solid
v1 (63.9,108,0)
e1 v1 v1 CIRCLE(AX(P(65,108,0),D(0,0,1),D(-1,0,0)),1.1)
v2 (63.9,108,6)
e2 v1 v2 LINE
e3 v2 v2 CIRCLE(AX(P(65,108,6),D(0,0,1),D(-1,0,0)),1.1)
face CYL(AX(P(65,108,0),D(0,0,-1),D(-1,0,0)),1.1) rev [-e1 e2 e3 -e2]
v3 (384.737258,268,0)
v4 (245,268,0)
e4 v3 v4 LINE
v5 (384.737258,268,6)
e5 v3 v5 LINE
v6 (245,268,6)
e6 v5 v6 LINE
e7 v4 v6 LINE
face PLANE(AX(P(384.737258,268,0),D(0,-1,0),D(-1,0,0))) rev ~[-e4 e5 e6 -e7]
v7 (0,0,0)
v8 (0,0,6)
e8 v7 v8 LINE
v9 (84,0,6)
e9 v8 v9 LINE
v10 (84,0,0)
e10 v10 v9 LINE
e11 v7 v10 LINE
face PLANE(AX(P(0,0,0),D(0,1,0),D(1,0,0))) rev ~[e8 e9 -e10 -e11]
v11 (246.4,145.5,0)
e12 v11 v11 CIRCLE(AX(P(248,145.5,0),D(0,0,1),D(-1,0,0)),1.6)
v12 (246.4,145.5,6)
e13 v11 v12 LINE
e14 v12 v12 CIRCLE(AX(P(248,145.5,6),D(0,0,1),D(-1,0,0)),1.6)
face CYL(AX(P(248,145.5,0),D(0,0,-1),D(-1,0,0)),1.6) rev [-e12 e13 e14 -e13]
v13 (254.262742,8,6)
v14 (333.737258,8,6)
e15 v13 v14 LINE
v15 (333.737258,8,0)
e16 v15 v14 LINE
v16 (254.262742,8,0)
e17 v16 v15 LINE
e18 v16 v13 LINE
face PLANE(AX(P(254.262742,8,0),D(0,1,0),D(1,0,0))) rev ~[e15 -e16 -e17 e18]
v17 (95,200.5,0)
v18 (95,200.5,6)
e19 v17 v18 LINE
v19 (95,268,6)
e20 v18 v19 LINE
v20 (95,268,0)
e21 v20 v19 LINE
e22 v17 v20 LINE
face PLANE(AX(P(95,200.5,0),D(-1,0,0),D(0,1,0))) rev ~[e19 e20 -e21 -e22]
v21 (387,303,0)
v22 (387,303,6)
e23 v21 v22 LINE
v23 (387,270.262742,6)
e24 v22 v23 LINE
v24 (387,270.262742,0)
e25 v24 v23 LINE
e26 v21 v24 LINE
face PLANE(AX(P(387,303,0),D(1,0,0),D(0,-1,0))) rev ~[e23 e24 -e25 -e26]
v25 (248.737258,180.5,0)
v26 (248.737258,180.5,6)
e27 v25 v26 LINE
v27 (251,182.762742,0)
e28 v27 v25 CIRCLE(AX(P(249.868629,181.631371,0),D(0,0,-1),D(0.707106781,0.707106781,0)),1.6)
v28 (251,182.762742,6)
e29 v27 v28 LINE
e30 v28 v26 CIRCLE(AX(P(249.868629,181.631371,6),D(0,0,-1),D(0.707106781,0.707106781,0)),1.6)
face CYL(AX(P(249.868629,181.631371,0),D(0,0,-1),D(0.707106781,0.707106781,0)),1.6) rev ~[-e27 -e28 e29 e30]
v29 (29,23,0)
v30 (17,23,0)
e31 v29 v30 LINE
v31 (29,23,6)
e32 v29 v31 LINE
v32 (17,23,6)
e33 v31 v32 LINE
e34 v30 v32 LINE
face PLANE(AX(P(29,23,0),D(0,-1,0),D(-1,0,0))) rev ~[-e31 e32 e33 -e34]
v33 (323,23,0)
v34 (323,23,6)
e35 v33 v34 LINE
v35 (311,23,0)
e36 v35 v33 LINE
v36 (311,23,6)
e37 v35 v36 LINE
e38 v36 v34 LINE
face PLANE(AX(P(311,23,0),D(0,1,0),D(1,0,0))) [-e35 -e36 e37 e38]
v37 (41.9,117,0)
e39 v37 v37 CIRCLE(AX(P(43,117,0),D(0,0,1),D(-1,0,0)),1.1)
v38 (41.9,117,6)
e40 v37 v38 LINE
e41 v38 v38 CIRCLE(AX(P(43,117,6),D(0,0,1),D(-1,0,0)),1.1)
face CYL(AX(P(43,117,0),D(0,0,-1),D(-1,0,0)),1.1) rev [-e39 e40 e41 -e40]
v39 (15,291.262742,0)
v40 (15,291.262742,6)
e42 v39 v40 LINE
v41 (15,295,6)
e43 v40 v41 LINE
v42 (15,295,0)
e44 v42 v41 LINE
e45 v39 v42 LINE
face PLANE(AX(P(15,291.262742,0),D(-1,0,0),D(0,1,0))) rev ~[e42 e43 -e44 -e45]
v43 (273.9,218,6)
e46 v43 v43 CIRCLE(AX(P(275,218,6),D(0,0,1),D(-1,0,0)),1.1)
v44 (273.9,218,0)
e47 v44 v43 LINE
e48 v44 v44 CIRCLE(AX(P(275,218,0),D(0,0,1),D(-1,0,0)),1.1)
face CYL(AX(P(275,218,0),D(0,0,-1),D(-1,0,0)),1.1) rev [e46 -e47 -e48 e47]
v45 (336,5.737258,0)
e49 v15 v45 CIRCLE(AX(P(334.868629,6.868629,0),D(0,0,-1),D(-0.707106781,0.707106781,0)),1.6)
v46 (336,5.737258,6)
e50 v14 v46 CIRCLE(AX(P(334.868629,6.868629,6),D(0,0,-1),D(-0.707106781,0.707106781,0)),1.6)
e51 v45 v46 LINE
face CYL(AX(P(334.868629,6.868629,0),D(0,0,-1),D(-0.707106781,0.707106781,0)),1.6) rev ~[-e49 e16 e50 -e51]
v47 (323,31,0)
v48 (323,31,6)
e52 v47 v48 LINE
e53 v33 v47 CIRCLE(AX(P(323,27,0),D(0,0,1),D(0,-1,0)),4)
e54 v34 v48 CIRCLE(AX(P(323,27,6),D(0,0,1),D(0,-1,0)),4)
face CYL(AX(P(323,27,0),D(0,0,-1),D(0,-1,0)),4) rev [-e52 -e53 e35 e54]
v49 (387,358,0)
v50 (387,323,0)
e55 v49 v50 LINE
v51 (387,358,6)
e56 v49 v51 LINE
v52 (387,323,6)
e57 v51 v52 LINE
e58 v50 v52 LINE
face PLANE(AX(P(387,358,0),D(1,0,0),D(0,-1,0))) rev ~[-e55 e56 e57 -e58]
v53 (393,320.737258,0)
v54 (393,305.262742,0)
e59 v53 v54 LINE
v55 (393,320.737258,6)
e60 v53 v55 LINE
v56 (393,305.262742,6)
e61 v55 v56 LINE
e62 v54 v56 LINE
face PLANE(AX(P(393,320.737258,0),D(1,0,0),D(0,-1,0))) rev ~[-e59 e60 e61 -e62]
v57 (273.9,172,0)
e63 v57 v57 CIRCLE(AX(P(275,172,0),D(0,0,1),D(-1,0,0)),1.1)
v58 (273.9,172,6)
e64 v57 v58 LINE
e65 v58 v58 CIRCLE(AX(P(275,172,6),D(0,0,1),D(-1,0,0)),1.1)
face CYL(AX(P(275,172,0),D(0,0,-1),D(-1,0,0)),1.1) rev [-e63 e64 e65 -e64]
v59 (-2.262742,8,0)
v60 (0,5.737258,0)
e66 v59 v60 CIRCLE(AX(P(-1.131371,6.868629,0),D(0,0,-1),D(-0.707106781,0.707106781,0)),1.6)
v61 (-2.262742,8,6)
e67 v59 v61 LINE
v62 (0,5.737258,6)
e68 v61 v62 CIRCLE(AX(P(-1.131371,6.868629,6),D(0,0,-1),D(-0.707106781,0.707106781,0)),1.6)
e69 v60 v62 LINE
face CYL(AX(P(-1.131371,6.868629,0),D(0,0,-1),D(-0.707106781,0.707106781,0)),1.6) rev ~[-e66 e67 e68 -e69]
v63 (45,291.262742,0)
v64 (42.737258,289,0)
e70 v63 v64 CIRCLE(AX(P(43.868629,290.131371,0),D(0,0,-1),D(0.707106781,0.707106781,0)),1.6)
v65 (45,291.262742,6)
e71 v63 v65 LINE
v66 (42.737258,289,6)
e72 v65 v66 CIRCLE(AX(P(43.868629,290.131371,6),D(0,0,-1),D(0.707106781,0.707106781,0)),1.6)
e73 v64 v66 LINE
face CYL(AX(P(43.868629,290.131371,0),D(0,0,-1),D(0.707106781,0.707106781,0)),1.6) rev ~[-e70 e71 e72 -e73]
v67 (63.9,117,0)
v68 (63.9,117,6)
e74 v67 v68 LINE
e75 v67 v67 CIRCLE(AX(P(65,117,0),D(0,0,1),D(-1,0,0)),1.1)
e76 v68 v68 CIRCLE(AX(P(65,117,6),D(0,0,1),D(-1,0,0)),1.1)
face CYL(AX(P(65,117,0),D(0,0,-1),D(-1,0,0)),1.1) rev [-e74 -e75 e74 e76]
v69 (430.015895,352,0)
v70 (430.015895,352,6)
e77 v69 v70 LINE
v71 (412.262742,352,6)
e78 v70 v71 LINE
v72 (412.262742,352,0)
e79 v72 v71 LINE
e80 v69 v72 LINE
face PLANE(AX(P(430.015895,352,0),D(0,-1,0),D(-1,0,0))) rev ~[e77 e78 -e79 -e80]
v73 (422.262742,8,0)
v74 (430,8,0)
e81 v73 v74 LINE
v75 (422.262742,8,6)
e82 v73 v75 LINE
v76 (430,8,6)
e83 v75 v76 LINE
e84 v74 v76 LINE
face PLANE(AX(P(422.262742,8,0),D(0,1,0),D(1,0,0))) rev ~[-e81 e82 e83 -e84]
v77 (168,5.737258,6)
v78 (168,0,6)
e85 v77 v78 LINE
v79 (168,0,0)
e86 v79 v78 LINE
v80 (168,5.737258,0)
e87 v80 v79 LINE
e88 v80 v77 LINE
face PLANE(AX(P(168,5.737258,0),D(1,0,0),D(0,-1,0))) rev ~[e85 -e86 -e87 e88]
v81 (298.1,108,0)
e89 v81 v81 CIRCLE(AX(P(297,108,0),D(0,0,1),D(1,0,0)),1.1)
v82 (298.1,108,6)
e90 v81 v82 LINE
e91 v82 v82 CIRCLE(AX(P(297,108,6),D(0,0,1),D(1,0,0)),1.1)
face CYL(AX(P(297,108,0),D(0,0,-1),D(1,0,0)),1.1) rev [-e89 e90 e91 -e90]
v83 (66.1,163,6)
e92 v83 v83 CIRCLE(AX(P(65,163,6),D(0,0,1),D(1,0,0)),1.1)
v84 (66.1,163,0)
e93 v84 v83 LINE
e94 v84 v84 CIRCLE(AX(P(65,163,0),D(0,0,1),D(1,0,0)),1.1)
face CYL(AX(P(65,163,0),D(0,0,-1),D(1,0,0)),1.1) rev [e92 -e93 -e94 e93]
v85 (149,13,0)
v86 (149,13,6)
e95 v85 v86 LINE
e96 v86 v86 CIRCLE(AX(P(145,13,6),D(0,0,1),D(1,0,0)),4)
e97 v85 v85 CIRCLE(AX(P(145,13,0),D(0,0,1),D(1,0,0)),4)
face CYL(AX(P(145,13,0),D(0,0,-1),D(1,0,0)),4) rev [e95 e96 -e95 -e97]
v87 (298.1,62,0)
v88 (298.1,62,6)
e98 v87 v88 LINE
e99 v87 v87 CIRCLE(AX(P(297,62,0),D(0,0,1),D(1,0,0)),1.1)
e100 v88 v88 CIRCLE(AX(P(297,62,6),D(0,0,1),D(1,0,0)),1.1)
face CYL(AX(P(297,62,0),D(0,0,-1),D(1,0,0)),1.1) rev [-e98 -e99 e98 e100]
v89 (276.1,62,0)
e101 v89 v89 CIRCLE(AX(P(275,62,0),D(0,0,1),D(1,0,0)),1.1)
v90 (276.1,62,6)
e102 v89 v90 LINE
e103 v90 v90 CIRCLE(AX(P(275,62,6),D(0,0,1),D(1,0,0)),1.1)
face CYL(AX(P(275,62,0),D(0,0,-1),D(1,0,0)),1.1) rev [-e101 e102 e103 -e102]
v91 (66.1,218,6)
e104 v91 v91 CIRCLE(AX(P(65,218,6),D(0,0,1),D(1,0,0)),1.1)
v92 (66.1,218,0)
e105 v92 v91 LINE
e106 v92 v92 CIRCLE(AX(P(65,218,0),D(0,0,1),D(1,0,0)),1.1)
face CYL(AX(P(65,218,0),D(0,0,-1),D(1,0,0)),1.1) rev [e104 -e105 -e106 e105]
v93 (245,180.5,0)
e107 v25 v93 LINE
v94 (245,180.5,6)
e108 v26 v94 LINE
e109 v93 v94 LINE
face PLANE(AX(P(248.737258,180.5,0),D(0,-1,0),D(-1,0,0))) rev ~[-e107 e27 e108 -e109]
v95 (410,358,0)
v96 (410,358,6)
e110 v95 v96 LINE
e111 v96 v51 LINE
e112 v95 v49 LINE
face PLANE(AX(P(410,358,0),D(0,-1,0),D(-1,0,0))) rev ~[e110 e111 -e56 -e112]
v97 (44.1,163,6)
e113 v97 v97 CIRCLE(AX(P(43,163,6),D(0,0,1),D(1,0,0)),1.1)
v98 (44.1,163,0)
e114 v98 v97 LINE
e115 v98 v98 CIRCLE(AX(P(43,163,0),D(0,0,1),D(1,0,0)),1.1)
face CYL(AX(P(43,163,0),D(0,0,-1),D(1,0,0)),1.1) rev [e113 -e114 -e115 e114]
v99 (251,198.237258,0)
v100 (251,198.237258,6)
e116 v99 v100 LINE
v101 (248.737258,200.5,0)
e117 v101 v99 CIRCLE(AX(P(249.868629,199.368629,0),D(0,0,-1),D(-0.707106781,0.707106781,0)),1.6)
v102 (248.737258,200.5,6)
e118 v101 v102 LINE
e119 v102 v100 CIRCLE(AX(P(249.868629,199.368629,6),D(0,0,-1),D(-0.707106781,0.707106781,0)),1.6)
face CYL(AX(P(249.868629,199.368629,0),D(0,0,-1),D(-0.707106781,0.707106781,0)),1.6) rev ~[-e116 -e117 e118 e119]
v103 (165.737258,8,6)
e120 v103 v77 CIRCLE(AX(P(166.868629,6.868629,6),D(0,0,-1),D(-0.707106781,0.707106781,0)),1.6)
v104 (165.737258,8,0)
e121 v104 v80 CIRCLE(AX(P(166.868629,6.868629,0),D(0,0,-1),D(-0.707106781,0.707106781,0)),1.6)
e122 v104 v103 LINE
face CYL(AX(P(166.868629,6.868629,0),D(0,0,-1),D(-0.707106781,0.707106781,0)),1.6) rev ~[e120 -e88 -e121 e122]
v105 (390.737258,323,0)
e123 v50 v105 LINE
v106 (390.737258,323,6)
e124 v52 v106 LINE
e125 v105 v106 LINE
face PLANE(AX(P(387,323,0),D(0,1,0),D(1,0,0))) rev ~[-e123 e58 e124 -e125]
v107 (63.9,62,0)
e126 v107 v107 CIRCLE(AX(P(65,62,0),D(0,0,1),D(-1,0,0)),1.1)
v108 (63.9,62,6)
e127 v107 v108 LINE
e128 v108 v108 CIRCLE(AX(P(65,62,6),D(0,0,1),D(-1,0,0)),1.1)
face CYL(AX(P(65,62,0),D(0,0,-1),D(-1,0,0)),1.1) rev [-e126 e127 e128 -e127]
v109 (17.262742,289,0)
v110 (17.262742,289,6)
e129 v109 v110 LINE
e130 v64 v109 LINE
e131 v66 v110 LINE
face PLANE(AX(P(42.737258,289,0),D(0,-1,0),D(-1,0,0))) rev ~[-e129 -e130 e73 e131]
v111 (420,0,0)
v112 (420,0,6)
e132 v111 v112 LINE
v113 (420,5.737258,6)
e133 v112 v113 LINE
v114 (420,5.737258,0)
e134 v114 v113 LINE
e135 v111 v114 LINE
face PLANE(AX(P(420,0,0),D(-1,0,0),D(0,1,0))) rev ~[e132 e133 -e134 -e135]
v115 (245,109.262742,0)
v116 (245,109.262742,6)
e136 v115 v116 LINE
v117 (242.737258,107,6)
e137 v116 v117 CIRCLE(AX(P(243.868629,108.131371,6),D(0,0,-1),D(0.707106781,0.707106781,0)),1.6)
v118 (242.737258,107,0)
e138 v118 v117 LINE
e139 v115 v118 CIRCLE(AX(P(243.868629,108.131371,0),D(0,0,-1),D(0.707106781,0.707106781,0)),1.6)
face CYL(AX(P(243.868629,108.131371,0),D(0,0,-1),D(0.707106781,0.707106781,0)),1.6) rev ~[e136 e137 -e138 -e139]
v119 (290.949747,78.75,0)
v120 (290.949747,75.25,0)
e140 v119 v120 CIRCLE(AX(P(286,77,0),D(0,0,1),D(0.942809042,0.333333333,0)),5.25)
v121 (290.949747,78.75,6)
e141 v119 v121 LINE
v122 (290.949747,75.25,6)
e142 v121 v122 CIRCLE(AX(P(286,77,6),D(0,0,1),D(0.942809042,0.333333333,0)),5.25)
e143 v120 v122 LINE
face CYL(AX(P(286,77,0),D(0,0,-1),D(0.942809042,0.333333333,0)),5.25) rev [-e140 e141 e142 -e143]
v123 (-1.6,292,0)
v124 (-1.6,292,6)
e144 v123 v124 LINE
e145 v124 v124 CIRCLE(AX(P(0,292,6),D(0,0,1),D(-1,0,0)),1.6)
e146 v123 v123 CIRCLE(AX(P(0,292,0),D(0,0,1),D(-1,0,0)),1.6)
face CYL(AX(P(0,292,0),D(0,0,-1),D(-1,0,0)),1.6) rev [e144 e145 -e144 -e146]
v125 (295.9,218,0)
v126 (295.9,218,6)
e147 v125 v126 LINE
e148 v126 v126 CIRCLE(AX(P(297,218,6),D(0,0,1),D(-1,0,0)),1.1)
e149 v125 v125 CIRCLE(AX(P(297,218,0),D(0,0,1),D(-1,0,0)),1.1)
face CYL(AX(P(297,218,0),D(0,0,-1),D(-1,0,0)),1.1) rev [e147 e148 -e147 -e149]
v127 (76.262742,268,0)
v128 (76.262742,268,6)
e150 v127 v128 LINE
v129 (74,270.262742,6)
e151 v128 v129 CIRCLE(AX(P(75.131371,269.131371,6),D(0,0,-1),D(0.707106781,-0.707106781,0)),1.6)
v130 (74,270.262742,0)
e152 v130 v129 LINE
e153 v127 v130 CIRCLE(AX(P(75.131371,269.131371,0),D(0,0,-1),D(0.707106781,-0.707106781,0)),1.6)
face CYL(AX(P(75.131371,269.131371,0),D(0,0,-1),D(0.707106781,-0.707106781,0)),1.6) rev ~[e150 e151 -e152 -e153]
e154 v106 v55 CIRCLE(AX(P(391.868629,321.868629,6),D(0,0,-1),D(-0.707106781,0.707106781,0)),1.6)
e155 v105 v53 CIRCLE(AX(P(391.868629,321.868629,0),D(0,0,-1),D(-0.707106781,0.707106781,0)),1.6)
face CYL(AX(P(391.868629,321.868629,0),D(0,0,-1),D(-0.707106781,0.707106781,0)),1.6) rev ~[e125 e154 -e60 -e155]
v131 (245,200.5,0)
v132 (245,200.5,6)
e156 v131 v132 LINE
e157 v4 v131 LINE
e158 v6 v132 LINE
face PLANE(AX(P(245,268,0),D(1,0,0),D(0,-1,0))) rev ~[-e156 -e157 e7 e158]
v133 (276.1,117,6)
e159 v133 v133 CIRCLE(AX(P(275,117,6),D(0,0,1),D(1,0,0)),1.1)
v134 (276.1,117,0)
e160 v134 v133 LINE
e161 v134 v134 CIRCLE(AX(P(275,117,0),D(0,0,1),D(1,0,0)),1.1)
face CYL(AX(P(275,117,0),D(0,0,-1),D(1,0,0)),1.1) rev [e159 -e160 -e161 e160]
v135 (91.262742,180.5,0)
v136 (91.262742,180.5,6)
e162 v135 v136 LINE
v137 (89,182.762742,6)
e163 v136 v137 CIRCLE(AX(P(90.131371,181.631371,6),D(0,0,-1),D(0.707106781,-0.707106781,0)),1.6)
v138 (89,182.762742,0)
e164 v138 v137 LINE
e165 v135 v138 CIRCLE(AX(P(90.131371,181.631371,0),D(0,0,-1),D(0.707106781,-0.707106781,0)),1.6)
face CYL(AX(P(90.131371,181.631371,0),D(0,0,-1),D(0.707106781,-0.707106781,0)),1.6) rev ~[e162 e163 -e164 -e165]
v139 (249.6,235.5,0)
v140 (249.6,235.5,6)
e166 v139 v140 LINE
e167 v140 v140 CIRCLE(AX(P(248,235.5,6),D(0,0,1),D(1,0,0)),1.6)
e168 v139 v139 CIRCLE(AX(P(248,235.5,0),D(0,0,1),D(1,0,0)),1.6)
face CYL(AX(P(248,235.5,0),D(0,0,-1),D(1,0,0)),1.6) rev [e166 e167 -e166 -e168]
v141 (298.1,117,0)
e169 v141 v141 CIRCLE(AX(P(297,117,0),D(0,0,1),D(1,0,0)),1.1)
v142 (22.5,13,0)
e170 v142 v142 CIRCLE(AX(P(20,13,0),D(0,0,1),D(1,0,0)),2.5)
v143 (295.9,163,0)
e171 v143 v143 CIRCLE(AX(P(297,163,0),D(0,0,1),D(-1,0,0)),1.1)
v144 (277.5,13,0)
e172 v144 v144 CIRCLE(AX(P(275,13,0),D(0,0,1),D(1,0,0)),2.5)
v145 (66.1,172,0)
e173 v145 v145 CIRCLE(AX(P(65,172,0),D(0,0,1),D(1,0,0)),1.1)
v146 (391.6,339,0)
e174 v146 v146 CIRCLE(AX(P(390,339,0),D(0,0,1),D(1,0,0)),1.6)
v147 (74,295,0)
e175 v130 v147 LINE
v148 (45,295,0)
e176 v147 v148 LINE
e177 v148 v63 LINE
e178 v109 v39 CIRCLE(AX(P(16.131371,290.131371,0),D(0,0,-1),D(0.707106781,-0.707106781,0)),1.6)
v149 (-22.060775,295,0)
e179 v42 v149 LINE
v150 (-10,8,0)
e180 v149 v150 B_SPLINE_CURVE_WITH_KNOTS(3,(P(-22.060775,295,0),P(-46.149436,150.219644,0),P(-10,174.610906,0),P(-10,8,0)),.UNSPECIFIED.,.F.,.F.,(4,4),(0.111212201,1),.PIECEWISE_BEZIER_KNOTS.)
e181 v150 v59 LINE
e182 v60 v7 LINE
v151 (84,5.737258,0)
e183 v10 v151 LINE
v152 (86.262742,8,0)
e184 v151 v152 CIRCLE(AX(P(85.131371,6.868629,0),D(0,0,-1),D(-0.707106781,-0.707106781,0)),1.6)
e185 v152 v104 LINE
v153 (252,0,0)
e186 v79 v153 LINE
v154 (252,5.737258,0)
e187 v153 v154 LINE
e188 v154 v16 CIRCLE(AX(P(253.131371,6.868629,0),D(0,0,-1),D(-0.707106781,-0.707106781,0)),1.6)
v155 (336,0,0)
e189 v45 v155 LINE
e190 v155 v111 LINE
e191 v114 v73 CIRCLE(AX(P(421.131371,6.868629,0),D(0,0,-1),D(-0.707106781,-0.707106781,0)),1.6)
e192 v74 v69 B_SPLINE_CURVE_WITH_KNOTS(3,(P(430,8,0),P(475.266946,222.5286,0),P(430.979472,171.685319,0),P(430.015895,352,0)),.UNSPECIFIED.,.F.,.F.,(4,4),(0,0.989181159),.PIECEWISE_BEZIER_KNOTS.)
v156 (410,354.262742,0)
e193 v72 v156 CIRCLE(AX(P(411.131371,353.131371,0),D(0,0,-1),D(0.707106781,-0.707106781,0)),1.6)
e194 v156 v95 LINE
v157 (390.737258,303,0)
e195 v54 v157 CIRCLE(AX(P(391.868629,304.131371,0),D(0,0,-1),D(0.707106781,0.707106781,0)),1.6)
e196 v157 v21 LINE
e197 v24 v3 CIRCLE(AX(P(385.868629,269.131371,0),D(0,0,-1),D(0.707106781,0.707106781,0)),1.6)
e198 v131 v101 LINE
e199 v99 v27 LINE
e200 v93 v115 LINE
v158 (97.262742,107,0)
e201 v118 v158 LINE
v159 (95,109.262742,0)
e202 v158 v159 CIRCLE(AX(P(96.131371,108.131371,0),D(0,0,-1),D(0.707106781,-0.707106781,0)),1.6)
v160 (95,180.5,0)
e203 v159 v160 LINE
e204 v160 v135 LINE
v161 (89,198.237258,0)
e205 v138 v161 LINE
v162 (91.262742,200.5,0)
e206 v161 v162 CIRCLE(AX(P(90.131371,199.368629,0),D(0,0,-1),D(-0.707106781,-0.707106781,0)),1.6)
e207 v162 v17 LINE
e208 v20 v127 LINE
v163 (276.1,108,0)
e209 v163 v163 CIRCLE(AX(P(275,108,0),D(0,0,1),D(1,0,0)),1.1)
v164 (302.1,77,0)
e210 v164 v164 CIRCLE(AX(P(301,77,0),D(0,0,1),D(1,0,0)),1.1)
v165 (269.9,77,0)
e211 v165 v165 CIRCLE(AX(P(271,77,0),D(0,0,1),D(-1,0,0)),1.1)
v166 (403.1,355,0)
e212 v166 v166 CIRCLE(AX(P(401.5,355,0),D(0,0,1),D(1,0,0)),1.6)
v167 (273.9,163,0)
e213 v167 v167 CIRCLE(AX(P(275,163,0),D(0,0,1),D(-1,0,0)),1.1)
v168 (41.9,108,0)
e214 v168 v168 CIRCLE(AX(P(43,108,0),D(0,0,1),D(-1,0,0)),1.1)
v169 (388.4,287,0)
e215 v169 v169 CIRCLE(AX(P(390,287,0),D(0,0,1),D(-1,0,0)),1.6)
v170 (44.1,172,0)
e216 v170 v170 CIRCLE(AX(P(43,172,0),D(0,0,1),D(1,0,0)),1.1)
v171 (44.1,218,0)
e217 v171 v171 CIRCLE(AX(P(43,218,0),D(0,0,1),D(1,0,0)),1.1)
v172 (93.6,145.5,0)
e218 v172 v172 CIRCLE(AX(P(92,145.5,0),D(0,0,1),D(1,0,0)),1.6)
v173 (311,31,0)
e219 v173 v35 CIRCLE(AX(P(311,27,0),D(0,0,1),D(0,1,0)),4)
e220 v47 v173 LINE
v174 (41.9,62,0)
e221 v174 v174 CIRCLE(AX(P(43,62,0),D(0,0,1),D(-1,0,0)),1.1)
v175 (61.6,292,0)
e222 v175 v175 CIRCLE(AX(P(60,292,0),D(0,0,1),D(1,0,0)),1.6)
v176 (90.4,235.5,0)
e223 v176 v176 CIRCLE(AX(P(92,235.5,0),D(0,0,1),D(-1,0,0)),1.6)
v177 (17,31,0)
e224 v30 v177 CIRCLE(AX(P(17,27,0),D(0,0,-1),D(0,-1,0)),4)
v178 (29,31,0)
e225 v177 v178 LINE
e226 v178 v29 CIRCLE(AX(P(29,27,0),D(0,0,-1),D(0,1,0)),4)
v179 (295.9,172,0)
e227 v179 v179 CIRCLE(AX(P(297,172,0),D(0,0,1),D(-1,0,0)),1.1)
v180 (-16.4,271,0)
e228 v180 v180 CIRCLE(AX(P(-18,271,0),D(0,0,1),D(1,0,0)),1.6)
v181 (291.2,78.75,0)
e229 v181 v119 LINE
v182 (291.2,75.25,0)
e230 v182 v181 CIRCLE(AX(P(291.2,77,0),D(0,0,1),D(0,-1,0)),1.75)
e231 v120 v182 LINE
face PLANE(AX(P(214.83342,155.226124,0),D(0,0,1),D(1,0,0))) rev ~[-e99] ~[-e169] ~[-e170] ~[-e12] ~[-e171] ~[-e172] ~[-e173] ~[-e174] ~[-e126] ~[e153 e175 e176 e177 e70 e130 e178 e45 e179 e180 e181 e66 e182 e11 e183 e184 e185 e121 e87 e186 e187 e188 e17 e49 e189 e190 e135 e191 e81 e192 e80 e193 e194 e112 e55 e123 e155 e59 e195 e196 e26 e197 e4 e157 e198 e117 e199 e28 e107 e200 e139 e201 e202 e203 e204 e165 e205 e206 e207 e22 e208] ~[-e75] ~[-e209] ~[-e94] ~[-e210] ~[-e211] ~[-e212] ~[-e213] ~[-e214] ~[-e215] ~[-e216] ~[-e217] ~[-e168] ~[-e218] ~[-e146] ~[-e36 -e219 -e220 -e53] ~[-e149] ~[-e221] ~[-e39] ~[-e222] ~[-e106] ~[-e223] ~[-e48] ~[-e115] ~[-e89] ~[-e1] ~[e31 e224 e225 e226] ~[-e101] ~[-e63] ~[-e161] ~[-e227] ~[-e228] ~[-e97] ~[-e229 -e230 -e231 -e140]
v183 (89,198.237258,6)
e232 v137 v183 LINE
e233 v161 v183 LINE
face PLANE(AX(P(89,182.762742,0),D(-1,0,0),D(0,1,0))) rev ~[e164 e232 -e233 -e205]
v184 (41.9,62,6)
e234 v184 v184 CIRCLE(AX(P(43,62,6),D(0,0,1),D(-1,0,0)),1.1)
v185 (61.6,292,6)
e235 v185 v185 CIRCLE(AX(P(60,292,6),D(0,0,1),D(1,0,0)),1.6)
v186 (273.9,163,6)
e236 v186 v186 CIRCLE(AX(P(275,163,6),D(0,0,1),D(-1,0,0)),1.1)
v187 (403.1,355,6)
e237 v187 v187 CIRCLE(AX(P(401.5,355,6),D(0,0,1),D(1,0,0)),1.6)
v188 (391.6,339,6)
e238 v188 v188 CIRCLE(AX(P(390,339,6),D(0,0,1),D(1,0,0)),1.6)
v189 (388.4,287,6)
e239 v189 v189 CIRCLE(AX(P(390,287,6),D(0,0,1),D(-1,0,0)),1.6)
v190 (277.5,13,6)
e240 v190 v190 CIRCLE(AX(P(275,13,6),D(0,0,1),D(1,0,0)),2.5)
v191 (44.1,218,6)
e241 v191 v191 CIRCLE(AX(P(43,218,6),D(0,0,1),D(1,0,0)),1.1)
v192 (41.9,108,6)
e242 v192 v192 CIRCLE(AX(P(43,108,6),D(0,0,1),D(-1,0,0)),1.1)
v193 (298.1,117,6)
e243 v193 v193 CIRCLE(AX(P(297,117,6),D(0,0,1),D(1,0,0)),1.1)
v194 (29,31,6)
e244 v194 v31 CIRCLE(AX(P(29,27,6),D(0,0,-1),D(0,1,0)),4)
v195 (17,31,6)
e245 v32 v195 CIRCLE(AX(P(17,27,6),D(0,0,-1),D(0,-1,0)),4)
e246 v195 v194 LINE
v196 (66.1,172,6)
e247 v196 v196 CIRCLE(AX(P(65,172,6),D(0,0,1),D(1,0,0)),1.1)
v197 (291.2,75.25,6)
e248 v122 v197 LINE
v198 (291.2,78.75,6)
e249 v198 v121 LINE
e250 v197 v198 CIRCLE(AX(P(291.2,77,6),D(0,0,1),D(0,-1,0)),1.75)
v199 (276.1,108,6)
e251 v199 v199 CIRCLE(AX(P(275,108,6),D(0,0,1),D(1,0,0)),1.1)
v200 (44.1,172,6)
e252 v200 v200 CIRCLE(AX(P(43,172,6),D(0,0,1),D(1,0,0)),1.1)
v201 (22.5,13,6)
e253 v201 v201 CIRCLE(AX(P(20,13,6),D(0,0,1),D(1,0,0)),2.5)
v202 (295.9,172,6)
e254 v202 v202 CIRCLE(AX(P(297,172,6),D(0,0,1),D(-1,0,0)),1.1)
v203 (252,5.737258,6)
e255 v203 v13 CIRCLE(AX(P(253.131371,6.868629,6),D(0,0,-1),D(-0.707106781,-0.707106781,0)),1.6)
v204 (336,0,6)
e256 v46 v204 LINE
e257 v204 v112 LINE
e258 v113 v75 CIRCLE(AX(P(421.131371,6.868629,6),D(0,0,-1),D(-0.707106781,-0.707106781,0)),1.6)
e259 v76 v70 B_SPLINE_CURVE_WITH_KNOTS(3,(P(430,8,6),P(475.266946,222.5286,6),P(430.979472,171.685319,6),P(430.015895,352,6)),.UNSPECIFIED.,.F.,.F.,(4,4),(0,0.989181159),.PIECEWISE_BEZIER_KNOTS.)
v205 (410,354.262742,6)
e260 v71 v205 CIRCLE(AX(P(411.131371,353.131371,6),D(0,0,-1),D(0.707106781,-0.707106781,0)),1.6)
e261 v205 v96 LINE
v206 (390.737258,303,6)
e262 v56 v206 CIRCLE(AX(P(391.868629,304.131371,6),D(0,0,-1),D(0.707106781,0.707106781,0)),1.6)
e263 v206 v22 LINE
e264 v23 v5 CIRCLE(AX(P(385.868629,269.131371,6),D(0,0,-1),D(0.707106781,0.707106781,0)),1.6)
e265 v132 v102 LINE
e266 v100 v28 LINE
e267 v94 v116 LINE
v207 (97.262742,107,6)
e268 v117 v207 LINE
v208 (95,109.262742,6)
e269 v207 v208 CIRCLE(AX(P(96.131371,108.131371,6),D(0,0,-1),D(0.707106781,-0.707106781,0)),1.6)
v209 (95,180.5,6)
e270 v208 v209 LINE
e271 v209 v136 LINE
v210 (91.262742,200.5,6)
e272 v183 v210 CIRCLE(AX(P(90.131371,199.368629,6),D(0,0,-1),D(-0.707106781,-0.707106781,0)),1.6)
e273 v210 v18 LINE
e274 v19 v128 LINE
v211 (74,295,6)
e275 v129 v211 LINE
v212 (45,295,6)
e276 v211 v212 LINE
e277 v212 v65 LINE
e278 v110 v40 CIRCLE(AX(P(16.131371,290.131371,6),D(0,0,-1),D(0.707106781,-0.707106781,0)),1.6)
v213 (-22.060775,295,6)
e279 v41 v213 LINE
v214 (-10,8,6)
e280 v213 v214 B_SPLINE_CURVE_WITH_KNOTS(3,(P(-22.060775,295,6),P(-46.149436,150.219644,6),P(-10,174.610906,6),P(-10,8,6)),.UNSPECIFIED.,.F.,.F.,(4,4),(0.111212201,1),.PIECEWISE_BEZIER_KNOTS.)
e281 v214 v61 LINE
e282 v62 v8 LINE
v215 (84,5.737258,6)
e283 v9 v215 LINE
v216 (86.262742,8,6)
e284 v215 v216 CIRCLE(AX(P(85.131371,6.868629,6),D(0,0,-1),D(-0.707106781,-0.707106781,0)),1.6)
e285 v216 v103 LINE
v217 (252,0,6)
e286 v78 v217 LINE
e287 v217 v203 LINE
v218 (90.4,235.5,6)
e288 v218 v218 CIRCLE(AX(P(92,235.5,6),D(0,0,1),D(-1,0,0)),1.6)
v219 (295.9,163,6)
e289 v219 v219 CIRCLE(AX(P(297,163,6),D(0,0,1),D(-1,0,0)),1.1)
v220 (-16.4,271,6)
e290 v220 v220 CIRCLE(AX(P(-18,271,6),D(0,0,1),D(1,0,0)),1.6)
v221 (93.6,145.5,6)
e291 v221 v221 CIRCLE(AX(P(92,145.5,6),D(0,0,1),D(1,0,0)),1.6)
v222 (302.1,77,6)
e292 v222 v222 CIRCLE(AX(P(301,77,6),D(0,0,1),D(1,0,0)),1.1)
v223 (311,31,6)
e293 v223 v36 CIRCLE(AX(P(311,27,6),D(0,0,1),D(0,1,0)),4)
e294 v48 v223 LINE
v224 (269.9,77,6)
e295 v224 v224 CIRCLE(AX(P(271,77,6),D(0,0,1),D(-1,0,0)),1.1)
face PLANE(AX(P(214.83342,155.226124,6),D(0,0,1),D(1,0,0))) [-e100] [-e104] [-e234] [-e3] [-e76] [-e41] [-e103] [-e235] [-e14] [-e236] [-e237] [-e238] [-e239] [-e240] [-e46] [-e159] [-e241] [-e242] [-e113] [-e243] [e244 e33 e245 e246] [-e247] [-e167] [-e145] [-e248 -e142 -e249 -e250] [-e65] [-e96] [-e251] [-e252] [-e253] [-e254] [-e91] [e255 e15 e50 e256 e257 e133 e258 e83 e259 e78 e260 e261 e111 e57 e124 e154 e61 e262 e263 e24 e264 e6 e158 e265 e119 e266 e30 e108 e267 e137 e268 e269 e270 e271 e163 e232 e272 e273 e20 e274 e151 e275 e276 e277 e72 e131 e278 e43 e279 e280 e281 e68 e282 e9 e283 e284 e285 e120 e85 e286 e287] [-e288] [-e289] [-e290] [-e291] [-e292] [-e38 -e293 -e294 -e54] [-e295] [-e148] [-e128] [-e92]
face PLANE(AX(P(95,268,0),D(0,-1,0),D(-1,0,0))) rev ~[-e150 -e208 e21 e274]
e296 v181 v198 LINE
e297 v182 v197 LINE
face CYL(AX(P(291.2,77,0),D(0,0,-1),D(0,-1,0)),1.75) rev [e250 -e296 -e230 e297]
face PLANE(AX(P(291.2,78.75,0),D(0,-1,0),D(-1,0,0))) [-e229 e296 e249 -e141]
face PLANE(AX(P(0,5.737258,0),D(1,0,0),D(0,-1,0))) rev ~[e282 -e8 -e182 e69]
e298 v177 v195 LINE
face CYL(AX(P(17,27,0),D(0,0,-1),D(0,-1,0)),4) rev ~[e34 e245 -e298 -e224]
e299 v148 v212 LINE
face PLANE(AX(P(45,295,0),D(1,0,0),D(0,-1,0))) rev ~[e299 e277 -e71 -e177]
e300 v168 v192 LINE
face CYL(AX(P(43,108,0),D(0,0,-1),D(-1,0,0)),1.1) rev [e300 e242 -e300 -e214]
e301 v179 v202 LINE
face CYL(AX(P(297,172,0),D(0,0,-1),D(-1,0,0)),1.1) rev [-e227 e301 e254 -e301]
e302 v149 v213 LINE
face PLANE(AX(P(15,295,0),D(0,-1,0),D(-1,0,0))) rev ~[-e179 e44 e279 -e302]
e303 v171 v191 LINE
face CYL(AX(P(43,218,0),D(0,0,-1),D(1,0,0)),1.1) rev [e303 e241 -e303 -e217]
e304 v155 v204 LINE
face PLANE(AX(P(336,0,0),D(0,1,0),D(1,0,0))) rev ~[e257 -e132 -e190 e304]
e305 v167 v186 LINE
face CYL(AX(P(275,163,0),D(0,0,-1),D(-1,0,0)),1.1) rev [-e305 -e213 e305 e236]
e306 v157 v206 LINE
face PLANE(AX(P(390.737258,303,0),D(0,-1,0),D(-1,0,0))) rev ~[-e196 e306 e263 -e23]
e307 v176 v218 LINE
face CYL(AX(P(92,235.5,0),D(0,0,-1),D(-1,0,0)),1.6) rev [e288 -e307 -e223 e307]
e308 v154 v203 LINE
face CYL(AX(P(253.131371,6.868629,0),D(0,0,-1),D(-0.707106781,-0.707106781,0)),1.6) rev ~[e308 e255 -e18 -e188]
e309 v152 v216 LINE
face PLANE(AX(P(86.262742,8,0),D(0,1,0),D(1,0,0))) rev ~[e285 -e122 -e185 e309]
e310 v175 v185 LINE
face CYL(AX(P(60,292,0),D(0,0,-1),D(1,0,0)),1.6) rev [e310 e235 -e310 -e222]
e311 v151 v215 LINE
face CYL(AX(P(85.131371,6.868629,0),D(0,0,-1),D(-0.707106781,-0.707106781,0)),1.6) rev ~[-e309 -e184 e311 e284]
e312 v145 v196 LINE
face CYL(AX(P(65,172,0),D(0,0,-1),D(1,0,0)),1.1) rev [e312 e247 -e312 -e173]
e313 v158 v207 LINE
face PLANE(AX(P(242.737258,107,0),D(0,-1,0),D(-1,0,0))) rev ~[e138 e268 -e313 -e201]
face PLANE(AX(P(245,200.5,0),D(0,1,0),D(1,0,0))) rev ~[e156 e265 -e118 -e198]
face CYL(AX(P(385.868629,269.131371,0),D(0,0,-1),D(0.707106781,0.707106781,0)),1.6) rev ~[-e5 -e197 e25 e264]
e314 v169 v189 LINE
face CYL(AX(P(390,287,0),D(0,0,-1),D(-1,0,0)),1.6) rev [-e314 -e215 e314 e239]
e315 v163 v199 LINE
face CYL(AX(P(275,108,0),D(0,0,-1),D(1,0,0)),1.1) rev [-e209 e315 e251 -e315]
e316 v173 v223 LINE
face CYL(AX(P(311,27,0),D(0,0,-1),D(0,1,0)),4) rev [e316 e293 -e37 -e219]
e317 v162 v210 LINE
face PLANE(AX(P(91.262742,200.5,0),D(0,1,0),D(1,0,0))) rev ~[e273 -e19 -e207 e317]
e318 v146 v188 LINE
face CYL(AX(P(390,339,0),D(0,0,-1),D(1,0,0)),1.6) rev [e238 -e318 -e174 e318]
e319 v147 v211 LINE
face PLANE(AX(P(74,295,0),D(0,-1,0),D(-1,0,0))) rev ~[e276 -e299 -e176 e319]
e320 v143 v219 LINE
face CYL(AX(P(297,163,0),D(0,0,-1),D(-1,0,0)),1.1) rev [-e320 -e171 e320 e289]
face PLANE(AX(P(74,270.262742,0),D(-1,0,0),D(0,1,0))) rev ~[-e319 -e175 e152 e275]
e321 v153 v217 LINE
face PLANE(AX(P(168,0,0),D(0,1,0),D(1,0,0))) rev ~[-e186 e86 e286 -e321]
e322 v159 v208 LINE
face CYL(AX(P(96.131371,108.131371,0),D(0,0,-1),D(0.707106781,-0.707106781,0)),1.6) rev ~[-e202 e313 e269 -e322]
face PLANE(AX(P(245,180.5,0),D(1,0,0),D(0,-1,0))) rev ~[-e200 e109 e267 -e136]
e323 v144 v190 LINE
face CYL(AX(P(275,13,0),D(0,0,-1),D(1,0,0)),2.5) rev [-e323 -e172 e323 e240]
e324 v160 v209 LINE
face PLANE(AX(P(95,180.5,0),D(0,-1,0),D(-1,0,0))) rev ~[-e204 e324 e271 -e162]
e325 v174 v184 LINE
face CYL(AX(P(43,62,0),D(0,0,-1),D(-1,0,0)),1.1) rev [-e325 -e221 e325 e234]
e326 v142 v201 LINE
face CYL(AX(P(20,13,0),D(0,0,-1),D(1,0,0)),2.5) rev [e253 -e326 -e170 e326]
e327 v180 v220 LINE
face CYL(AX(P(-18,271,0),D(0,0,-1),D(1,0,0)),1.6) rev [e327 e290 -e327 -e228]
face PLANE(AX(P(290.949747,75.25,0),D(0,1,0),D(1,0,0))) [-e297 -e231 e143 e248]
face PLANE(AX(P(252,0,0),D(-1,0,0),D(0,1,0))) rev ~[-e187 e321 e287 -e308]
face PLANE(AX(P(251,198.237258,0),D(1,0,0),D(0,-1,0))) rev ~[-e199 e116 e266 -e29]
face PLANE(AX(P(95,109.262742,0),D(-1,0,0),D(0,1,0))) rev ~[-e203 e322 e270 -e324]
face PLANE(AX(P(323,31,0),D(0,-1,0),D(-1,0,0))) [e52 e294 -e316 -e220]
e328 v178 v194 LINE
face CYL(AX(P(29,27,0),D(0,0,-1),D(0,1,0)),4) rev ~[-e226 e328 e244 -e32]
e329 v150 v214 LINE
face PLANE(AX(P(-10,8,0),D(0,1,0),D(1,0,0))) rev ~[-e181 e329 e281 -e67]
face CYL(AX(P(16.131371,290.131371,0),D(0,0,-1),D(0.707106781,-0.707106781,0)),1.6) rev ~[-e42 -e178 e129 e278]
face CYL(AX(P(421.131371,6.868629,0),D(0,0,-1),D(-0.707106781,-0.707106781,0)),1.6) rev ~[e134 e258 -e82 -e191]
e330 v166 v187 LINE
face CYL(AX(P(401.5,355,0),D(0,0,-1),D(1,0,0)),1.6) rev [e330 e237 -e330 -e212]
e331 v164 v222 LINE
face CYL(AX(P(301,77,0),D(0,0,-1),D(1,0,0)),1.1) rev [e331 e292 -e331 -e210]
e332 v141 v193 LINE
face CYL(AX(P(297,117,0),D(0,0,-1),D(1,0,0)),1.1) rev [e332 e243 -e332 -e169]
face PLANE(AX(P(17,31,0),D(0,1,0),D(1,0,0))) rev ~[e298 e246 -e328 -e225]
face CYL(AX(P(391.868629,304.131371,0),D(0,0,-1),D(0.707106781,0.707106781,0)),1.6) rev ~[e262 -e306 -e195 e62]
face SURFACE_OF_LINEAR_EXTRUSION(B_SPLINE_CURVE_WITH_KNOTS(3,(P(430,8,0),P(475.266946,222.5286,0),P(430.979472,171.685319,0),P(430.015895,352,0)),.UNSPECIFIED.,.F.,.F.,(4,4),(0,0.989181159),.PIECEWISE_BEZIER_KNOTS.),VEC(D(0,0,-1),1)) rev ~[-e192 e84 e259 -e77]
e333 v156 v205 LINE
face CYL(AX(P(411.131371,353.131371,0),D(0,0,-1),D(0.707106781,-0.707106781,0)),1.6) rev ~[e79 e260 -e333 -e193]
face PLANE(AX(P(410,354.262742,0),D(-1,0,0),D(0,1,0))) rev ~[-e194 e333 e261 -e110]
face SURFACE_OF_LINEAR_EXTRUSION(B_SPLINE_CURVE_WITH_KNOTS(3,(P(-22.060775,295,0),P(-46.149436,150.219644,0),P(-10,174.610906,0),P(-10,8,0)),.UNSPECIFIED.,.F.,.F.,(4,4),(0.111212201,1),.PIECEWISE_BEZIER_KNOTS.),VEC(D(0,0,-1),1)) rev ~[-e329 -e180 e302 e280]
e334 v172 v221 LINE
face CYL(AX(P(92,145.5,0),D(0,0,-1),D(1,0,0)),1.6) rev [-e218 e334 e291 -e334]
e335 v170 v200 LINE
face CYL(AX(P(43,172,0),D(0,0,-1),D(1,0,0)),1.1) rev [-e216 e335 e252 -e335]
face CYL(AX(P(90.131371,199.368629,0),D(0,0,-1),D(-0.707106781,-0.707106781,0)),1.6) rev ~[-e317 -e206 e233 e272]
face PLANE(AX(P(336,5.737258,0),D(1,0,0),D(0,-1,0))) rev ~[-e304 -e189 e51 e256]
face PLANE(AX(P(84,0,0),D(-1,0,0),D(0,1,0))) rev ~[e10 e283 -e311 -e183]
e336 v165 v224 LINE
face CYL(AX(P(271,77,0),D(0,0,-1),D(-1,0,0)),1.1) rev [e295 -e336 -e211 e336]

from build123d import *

# Parameters (mm, degrees)
ESQUISSE1_R        = 1.6
ESQUISSE1_R_2      = 1.1
ESQUISSE1_R_3      = 2.5
ESQUISSE1_R_4      = 4
BOSS_EXTRU_1_DEPTH = 6


with BuildPart() as part:
    # Esquisse1 → Boss.-Extru.1 (new body)
    with BuildSketch(Plane.XY):
        with BuildLine():
            Line((0, 0), (84, 0))
            Line((84, 0), (84, 5.7372583))
            ThreePointArc((84, 5.7372583), (84, 8), (86.2627417, 8))
            Line((86.2627417, 8), (165.7372583, 8))
            ThreePointArc((165.7372583, 8), (168, 8), (168, 5.7372583))
            Line((168, 5.7372583), (168, 0))
            Line((168, 0), (252, 0))
            Line((252, 0), (252, 5.7372583))
            ThreePointArc((252, 5.7372583), (252, 8), (254.2627417, 8))
            Line((254.2627417, 8), (333.7372583, 8))
            ThreePointArc((333.7372583, 8), (336, 8), (336, 5.7372583))
            Line((336, 5.7372583), (336, 0))
            Line((336, 0), (420, 0))
            Line((420, 0), (420, 5.7372583))
            ThreePointArc((420, 5.7372583), (420, 8), (422.2627417, 8))
            Line((422.2627417, 8), (430, 8))
            add(Edge.make_bspline(
                [(430, 8), (475.266946004, 222.528599588), (430.979471743, 171.685319114), (430.015895123, 352)],
                knots=[0, 0, 0, 0, 0.989181159, 0.989181159, 0.989181159, 0.989181159], degree=3))
            Line((430.015895123, 352), (412.2627417, 352))
            ThreePointArc((412.2627417, 352), (410, 352), (410, 354.2627417))
            Line((410, 354.2627417), (410, 358))
            Line((410, 358), (387, 358))
            Line((387, 358), (387, 323))
            Line((387, 323), (390.7372583, 323))
            ThreePointArc((390.7372583, 323), (393, 323), (393, 320.7372583))
            Line((393, 320.7372583), (393, 305.2627417))
            ThreePointArc((393, 305.2627417), (393, 303), (390.7372583, 303))
            Line((390.7372583, 303), (387, 303))
            Line((387, 303), (387, 270.2627417))
            ThreePointArc((387, 270.2627417), (387, 268), (384.7372583, 268))
            Line((384.7372583, 268), (245, 268))
            Line((245, 268), (245, 200.5))
            Line((245, 200.5), (248.7372583, 200.5))
            ThreePointArc((248.7372583, 200.5), (251, 200.5), (251, 198.2372583))
            Line((251, 198.2372583), (251, 182.7627417))
            ThreePointArc((251, 182.7627417), (251, 180.5), (248.7372583, 180.5))
            Line((248.7372583, 180.5), (245, 180.5))
            Line((245, 180.5), (245, 109.2627417))
            ThreePointArc((245, 109.2627417), (245, 107), (242.7372583, 107))
            Line((242.7372583, 107), (97.2627417, 107))
            ThreePointArc((97.2627417, 107), (95, 107), (95, 109.2627417))
            Line((95, 109.2627417), (95, 180.5))
            Line((95, 180.5), (91.2627417, 180.5))
            ThreePointArc((91.2627417, 180.5), (89, 180.5), (89, 182.7627417))
            Line((89, 182.7627417), (89, 198.2372583))
            ThreePointArc((89, 198.2372583), (89, 200.5), (91.2627417, 200.5))
            Line((91.2627417, 200.5), (95, 200.5))
            Line((95, 200.5), (95, 268))
            Line((95, 268), (76.2627417, 268))
            ThreePointArc((76.2627417, 268), (74, 268), (74, 270.2627417))
            Line((74, 270.2627417), (74, 295))
            Line((74, 295), (45, 295))
            Line((45, 295), (45, 291.2627417))
            ThreePointArc((45, 291.2627417), (45, 289), (42.7372583, 289))
            Line((42.7372583, 289), (17.2627417, 289))
            ThreePointArc((17.2627417, 289), (15, 289), (15, 291.2627417))
            Line((15, 291.2627417), (15, 295))
            Line((15, 295), (-22.060775094, 295))
            add(Edge.make_bspline(
                [(-22.060775094, 295), (-46.149436115, 150.219644472), (-10, 174.610905879), (-10, 8)],
                knots=[0.111212201, 0.111212201, 0.111212201, 0.111212201, 1, 1, 1, 1], degree=3))
            Line((-10, 8), (-2.2627417, 8))
            ThreePointArc((-2.2627417, 8), (0, 8), (0, 5.7372583))
            Line((0, 5.7372583), (0, 0))
        make_face()
        with Locations((401.5, 355)):
            Circle(ESQUISSE1_R, mode=Mode.SUBTRACT)
        with Locations((92, 145.5)):
            Circle(ESQUISSE1_R, mode=Mode.SUBTRACT)
        with Locations(Location((92, 235.5, 0), (0, 0, 180))):  # turned: the seam where the file's is
            Circle(ESQUISSE1_R, mode=Mode.SUBTRACT)
        with Locations((275, 62)):
            Circle(ESQUISSE1_R_2, mode=Mode.SUBTRACT)
        with Locations((297, 62)):
            Circle(ESQUISSE1_R_2, mode=Mode.SUBTRACT)
        with Locations((248, 235.5)):
            Circle(ESQUISSE1_R, mode=Mode.SUBTRACT)
        with Locations(Location((248, 145.5, 0), (0, 0, 180))):  # turned: the seam where the file's is
            Circle(ESQUISSE1_R, mode=Mode.SUBTRACT)
        with Locations((297, 108)):
            Circle(ESQUISSE1_R_2, mode=Mode.SUBTRACT)
        with Locations((275, 108)):
            Circle(ESQUISSE1_R_2, mode=Mode.SUBTRACT)
        with Locations((-18, 271)):
            Circle(ESQUISSE1_R, mode=Mode.SUBTRACT)
        with Locations((275, 117)):
            Circle(ESQUISSE1_R_2, mode=Mode.SUBTRACT)
        with Locations((297, 117)):
            Circle(ESQUISSE1_R_2, mode=Mode.SUBTRACT)
        with Locations(Location((297, 163, 0), (0, 0, 180))):  # turned: the seam where the file's is
            Circle(ESQUISSE1_R_2, mode=Mode.SUBTRACT)
        with Locations((390, 339)):
            Circle(ESQUISSE1_R, mode=Mode.SUBTRACT)
        with Locations(Location((390, 287, 0), (0, 0, 180))):  # turned: the seam where the file's is
            Circle(ESQUISSE1_R, mode=Mode.SUBTRACT)
        with Locations(Location((275, 163, 0), (0, 0, 180))):  # turned: the seam where the file's is
            Circle(ESQUISSE1_R_2, mode=Mode.SUBTRACT)
        with Locations(Location((275, 172, 0), (0, 0, 180))):  # turned: the seam where the file's is
            Circle(ESQUISSE1_R_2, mode=Mode.SUBTRACT)
        with Locations(Location((297, 172, 0), (0, 0, 180))):  # turned: the seam where the file's is
            Circle(ESQUISSE1_R_2, mode=Mode.SUBTRACT)
        with Locations(Location((297, 218, 0), (0, 0, 180))):  # turned: the seam where the file's is
            Circle(ESQUISSE1_R_2, mode=Mode.SUBTRACT)
        with Locations(Location((275, 218, 0), (0, 0, 180))):  # turned: the seam where the file's is
            Circle(ESQUISSE1_R_2, mode=Mode.SUBTRACT)
        with Locations((20, 13)):
            Circle(ESQUISSE1_R_3, mode=Mode.SUBTRACT)
        with Locations(Location((43, 62, 0), (0, 0, 180))):  # turned: the seam where the file's is
            Circle(ESQUISSE1_R_2, mode=Mode.SUBTRACT)
        with Locations(Location((65, 62, 0), (0, 0, 180))):  # turned: the seam where the file's is
            Circle(ESQUISSE1_R_2, mode=Mode.SUBTRACT)
        with Locations(Location((43, 117, 0), (0, 0, 180))):  # turned: the seam where the file's is
            Circle(ESQUISSE1_R_2, mode=Mode.SUBTRACT)
        with Locations(Location((65, 117, 0), (0, 0, 180))):  # turned: the seam where the file's is
            Circle(ESQUISSE1_R_2, mode=Mode.SUBTRACT)
        with Locations(Location((65, 108, 0), (0, 0, 180))):  # turned: the seam where the file's is
            Circle(ESQUISSE1_R_2, mode=Mode.SUBTRACT)
        with Locations(Location((43, 108, 0), (0, 0, 180))):  # turned: the seam where the file's is
            Circle(ESQUISSE1_R_2, mode=Mode.SUBTRACT)
        with Locations((43, 172)):
            Circle(ESQUISSE1_R_2, mode=Mode.SUBTRACT)
        with Locations((65, 172)):
            Circle(ESQUISSE1_R_2, mode=Mode.SUBTRACT)
        with Locations((65, 163)):
            Circle(ESQUISSE1_R_2, mode=Mode.SUBTRACT)
        with Locations((43, 163)):
            Circle(ESQUISSE1_R_2, mode=Mode.SUBTRACT)
        with Locations((65, 218)):
            Circle(ESQUISSE1_R_2, mode=Mode.SUBTRACT)
        with Locations((43, 218)):
            Circle(ESQUISSE1_R_2, mode=Mode.SUBTRACT)
        with Locations((145, 13)):
            Circle(ESQUISSE1_R_4, mode=Mode.SUBTRACT)
        with Locations((275, 13)):
            Circle(ESQUISSE1_R_3, mode=Mode.SUBTRACT)
        with Locations((60, 292)):
            Circle(ESQUISSE1_R, mode=Mode.SUBTRACT)
        with Locations((301, 77)):
            Circle(ESQUISSE1_R_2, mode=Mode.SUBTRACT)
        with Locations(Location((0, 292, 0), (0, 0, 180))):  # turned: the seam where the file's is
            Circle(ESQUISSE1_R, mode=Mode.SUBTRACT)
        with Locations(Location((271, 77, 0), (0, 0, 180))):  # turned: the seam where the file's is
            Circle(ESQUISSE1_R_2, mode=Mode.SUBTRACT)
        with BuildLine():
            Line((323, 31), (311, 31))
            ThreePointArc((311, 31), (307, 27), (311, 23))
            Line((311, 23), (323, 23))
            ThreePointArc((323, 23), (327, 27), (323, 31))
        make_face(mode=Mode.SUBTRACT)
        with BuildLine():
            Line((29, 23), (17, 23))
            ThreePointArc((17, 23), (13, 27), (17, 31))
            Line((17, 31), (29, 31))
            ThreePointArc((29, 31), (33, 27), (29, 23))
        make_face(mode=Mode.SUBTRACT)
        with BuildLine():
            Line((291.2, 78.75), (290.949747468, 78.75))
            ThreePointArc((290.949747468, 78.75), (280.75, 77), (290.949747468, 75.25))
            Line((290.949747468, 75.25), (291.2, 75.25))
            ThreePointArc((291.2, 75.25), (292.95, 77), (291.2, 78.75))
        make_face(mode=Mode.SUBTRACT)
    extrude(amount=BOSS_EXTRU_1_DEPTH)


solid = part.part
